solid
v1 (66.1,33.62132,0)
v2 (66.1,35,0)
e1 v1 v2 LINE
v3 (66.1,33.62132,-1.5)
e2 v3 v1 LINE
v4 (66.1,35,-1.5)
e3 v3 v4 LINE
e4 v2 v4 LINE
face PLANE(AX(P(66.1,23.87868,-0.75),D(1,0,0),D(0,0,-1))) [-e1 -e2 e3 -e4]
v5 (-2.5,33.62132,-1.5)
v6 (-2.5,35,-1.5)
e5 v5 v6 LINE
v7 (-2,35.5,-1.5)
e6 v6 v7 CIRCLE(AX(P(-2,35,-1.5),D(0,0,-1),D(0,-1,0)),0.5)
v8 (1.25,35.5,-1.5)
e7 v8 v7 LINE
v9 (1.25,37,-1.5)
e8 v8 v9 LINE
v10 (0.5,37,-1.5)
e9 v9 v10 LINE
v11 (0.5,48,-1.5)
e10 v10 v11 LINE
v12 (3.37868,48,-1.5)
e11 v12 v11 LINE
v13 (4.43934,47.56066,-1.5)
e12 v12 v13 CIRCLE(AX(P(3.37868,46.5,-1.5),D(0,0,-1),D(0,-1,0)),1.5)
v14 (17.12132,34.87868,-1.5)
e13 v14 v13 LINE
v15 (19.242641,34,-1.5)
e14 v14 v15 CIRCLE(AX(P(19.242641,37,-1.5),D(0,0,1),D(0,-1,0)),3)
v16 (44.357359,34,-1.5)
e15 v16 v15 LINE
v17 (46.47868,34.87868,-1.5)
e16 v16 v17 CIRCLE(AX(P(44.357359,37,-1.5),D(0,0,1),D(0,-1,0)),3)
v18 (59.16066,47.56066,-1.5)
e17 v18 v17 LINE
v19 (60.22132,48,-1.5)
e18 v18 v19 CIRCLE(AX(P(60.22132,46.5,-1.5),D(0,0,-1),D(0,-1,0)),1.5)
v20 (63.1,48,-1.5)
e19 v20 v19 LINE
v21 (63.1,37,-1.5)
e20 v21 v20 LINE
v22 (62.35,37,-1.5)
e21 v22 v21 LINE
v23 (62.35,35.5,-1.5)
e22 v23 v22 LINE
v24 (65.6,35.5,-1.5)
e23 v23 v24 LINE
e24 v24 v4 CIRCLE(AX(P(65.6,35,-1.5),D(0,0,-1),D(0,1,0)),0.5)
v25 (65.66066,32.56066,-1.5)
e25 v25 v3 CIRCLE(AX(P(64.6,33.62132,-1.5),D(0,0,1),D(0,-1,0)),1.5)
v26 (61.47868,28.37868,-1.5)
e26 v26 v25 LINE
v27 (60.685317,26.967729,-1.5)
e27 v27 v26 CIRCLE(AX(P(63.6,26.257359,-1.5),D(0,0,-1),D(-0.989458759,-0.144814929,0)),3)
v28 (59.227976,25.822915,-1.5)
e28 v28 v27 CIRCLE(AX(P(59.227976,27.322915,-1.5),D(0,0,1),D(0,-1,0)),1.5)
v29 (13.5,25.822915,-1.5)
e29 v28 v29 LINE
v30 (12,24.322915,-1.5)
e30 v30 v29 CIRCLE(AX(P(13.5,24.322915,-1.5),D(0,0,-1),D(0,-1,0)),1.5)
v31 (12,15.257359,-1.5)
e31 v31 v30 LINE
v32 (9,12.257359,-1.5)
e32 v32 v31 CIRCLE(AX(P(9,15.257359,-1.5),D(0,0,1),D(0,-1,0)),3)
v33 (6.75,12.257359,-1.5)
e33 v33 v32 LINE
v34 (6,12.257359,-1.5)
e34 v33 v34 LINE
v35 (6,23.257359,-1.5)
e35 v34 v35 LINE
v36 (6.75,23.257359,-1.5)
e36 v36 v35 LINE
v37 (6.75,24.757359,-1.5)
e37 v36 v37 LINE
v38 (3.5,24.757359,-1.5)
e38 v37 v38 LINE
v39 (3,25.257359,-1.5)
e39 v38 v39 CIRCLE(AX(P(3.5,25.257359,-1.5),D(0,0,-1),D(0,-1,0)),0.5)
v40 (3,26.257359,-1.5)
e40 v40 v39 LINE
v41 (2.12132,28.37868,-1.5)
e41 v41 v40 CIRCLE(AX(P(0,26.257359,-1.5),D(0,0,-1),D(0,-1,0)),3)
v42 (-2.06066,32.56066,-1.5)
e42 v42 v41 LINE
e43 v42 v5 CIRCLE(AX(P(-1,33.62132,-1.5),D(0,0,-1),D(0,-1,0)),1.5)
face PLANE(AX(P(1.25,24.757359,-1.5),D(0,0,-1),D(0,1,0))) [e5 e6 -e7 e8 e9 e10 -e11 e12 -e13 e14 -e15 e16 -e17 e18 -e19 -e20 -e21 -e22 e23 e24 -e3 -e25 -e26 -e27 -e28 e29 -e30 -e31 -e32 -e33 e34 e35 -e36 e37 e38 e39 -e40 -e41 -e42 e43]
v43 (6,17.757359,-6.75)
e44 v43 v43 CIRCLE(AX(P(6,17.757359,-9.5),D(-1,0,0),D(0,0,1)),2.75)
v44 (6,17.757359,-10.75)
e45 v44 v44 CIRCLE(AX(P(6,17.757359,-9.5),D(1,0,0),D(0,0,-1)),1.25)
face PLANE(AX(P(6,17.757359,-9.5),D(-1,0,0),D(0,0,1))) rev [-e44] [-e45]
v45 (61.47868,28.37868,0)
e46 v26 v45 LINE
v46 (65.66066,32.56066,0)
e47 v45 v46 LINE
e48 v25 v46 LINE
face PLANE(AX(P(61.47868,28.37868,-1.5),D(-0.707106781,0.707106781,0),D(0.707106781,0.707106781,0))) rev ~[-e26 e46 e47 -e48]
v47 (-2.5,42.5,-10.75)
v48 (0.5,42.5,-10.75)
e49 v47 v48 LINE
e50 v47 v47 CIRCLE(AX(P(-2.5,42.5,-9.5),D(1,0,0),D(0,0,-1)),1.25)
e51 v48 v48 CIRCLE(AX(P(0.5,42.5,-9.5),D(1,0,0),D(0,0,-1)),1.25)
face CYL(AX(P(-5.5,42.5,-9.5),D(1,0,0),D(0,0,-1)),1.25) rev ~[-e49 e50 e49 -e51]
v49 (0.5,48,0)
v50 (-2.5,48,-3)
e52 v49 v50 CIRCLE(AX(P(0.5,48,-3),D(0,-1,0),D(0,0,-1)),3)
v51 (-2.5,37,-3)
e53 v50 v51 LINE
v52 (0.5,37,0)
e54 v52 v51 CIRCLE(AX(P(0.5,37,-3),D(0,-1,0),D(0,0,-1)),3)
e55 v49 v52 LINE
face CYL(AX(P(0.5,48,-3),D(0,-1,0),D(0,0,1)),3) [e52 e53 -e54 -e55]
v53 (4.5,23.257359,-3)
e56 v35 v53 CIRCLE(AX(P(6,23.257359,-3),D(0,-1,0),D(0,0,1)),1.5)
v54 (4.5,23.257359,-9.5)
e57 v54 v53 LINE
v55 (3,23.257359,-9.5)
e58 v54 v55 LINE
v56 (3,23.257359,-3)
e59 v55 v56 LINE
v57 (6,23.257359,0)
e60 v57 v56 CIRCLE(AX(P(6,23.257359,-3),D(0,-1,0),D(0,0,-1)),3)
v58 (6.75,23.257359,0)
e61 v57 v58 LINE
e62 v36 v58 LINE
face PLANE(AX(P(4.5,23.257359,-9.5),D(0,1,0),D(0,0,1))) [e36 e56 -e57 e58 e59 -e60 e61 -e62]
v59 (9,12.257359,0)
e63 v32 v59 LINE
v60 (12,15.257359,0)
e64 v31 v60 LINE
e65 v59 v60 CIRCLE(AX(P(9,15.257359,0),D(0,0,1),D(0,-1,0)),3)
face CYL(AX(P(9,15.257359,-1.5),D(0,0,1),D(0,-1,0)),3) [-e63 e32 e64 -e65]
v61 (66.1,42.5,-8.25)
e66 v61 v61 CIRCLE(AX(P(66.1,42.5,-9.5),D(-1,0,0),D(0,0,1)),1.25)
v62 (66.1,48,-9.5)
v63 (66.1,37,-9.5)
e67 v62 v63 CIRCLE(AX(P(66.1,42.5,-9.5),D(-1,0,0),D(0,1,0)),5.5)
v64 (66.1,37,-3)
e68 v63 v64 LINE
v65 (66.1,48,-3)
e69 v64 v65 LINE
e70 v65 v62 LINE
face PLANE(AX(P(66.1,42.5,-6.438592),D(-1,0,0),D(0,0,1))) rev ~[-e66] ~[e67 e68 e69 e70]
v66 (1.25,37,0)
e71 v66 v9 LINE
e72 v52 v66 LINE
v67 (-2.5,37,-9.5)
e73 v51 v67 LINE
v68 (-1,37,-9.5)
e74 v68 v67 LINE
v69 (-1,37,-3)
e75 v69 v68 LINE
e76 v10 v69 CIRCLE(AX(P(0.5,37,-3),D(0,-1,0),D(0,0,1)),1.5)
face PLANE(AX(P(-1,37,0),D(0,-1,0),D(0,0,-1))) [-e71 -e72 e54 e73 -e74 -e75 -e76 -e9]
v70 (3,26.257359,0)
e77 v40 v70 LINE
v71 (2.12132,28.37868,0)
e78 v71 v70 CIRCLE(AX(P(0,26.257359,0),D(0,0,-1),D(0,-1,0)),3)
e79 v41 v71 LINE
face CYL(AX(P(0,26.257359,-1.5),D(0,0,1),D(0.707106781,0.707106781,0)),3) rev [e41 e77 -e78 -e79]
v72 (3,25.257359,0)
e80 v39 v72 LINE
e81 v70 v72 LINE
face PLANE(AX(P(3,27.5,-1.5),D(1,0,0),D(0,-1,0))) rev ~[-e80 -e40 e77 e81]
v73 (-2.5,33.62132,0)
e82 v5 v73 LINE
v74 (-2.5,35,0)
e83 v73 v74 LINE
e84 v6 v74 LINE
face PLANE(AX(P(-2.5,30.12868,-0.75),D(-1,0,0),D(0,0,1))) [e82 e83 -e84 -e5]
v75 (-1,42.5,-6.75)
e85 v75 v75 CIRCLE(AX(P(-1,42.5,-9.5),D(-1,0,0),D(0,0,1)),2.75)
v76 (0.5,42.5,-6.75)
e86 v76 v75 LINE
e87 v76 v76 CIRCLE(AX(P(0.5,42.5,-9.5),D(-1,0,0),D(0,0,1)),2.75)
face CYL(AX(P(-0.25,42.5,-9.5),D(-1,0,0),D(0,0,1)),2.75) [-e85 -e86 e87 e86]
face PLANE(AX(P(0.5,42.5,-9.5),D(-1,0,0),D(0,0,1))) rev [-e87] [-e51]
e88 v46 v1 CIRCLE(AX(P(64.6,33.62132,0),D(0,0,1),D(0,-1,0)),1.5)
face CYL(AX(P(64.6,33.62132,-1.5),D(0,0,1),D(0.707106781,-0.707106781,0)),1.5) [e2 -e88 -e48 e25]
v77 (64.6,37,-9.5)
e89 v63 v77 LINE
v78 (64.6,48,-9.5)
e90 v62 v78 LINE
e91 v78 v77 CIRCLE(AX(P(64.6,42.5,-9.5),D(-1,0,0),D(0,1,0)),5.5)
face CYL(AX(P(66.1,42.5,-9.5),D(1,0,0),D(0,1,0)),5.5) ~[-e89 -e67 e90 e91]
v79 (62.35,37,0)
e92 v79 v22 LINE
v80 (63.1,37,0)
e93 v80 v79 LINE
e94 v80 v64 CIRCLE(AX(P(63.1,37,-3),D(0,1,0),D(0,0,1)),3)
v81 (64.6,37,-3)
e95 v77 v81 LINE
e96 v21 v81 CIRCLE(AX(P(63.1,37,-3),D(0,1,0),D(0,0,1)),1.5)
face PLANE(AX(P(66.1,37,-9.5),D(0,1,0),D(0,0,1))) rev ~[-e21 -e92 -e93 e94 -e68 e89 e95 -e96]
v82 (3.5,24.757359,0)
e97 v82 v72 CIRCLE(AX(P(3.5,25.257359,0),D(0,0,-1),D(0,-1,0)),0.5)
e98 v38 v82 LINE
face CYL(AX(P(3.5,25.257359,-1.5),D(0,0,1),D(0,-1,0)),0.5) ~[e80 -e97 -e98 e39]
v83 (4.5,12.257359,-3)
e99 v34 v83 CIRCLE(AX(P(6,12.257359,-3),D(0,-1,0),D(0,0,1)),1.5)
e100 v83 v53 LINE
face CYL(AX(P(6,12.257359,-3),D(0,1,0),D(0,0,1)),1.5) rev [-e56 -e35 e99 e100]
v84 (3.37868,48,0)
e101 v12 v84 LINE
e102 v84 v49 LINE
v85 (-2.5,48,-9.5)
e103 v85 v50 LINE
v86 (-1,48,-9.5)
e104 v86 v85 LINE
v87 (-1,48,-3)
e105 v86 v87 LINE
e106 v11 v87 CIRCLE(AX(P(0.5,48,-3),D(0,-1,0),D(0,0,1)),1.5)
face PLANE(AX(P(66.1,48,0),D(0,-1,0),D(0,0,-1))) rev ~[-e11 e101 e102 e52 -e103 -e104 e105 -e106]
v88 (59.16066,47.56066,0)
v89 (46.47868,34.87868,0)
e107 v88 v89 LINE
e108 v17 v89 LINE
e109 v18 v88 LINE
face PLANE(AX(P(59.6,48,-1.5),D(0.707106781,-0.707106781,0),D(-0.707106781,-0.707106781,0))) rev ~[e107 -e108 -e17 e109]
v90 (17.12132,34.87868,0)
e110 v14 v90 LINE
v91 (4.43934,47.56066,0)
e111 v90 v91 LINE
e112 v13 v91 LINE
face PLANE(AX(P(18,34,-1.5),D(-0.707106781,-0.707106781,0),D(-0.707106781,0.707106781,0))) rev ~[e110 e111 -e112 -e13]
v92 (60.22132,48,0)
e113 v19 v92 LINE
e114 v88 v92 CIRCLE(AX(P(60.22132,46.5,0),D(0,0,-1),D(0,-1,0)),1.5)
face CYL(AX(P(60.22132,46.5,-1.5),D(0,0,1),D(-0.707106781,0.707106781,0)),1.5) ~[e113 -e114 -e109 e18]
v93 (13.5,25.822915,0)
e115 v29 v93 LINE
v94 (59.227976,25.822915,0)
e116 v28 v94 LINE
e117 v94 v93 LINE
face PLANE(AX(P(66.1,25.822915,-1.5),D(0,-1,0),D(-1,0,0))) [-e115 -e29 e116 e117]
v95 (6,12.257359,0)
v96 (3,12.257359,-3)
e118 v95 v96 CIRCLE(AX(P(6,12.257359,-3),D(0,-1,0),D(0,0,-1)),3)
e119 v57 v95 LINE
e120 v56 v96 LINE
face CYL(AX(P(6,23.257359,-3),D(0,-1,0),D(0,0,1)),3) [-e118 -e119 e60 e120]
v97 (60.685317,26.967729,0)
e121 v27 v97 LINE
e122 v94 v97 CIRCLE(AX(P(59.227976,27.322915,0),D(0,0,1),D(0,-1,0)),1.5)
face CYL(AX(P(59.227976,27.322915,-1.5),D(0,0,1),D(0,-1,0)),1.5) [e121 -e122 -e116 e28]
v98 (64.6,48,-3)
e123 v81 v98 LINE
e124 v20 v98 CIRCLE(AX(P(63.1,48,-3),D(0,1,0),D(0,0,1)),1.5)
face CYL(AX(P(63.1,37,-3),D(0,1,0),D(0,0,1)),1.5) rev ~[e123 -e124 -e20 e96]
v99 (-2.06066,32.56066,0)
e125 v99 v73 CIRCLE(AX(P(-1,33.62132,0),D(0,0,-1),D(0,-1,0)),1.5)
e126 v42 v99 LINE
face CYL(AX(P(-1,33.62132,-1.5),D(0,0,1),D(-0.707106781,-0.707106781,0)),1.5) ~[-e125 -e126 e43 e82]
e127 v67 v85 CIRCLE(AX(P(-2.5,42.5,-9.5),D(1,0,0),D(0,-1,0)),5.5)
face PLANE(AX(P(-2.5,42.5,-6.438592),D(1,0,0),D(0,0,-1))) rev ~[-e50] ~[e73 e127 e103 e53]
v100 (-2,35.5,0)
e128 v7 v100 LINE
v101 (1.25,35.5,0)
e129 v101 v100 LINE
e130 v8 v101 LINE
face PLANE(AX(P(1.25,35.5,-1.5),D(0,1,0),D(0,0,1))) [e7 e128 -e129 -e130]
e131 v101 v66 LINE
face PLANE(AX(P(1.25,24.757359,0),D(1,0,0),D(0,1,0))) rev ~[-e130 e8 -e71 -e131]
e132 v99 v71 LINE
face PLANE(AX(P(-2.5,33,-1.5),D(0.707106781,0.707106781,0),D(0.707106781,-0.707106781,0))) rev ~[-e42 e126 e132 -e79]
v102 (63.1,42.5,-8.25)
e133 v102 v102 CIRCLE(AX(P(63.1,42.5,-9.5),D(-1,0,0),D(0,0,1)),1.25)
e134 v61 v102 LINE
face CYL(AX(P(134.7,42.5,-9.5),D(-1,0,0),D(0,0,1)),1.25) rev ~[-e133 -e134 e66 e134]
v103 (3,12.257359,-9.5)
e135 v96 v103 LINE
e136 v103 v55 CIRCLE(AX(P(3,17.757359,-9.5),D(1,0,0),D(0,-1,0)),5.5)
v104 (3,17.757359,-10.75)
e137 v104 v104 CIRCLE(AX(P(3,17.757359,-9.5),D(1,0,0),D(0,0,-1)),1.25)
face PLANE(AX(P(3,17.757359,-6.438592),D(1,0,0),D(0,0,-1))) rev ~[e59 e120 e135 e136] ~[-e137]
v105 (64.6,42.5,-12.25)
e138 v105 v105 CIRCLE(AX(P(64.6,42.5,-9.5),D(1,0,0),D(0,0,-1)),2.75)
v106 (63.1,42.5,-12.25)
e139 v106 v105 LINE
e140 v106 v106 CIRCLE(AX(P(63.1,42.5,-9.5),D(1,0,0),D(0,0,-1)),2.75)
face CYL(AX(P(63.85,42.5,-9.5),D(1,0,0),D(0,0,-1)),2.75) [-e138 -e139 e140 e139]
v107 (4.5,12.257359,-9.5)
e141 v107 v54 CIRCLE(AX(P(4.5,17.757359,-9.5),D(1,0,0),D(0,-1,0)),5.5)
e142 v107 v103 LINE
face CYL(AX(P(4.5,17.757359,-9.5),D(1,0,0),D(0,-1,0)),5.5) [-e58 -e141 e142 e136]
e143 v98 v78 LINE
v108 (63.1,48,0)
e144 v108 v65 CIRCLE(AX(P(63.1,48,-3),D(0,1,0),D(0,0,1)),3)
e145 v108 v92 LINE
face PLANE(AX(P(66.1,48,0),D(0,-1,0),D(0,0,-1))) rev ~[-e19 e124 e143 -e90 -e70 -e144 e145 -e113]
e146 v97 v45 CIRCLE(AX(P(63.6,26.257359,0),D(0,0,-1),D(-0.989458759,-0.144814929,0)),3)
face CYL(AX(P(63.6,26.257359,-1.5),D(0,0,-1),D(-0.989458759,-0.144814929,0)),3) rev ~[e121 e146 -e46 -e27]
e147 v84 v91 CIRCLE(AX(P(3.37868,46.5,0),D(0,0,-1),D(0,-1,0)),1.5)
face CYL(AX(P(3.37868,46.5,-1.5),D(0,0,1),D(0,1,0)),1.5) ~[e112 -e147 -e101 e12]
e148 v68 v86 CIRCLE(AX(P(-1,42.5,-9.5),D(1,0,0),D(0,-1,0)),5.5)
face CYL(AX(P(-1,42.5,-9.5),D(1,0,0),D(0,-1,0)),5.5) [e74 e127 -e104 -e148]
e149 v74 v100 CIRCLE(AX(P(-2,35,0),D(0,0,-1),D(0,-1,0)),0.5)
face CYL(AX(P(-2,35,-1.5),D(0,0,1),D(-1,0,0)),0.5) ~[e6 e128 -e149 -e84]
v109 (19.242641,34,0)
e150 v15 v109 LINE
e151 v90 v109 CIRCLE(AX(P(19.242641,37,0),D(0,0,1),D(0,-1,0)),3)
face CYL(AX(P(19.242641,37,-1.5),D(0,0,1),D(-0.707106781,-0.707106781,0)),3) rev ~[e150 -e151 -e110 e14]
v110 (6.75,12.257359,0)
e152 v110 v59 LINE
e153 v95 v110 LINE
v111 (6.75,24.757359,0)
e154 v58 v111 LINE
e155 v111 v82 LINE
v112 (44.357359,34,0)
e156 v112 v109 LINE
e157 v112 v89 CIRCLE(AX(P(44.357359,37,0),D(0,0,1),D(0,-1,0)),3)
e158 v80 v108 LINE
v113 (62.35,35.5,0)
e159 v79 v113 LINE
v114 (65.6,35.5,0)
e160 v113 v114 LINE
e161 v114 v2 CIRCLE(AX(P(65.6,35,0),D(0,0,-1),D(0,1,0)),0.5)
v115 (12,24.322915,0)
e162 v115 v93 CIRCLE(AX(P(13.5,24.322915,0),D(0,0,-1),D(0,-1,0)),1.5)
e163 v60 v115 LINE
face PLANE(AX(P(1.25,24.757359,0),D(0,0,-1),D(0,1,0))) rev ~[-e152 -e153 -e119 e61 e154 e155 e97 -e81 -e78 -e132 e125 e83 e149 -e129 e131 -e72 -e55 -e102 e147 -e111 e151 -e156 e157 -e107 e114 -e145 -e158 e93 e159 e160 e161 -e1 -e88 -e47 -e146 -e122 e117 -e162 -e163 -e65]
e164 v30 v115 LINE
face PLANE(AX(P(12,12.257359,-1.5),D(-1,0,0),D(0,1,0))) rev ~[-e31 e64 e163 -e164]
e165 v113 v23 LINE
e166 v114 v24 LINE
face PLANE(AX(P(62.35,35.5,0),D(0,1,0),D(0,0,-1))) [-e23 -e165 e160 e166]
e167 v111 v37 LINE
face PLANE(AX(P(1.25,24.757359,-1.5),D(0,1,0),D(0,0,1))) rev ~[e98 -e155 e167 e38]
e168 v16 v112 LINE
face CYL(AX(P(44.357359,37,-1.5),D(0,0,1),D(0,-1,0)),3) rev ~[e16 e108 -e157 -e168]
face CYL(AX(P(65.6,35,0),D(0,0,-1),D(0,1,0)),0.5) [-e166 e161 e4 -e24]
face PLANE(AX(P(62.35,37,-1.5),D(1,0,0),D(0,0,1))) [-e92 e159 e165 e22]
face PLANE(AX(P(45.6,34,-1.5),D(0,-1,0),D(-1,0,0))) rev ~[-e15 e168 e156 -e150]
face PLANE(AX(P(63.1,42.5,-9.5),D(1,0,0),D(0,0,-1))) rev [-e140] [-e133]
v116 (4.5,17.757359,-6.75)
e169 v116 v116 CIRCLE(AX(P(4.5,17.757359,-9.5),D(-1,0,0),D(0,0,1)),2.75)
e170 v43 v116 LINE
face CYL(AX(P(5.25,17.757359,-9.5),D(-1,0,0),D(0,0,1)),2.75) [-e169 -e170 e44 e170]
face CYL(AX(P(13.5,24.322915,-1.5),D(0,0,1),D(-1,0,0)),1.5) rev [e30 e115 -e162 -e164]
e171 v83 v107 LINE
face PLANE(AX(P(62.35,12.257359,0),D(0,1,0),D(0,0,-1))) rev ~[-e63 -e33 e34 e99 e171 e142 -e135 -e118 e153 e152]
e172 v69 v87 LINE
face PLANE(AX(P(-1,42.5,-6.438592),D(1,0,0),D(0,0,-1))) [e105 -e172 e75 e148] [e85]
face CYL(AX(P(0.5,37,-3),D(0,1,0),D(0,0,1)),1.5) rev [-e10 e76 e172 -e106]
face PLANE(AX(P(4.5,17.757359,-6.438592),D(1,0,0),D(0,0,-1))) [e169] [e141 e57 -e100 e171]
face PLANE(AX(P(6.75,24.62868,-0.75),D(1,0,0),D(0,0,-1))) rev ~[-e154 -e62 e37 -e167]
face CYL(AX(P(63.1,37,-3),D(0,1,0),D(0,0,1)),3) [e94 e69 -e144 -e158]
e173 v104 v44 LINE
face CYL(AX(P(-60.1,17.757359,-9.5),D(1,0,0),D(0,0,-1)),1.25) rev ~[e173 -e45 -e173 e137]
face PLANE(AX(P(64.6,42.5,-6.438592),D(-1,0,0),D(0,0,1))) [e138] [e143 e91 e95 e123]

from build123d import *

# Parameters (mm, degrees)
SKETCH_1_W                  = 5.5
SKETCH_1_H                  = 12.242640687
EXTRUDE_1_DEPTH             = 1.5
SKETCH_2_W                  = 1.5
SKETCH_2_H                  = 24.742640687
EXTRUDE_2_DEPTH             = 55.6
SKETCH_3_W                  = 1.5
SKETCH_3_H                  = 11
EXTRUDE_3_DEPTH             = 2.25
SKETCH_4_W                  = 63.35
SKETCH_4_H                  = 1.5
EXTRUDE_4_DEPTH             = 11
EXTRUDE_5_DEPTH             = 1.5
EXTRUDE_6_DEPTH             = 1.5
SKETCH_7_W                  = 1.5
SKETCH_7_H                  = 11
EXTRUDE_7_DEPTH             = 2.25
EXTRUDE_START               = 1.5
EXTRUDE_8_DEPTH             = 1.5
SKETCH_9_W                  = 1.5
SKETCH_9_H                  = 23.242640687
EXTRUDE_9_DEPTH             = 3.75
SKETCH_10_W                 = 1.5
SKETCH_10_H                 = 10.742640687
EXTRUDE_10_DEPTH            = 3.75
CUT_EXTRUDE_1_DEPTH         = 83.797705282
SKETCH_12_W                 = 54.1
SKETCH_12_H                 = 13.565555211
CUT_EXTRUDE_2_DEPTH         = 83.797705282
CUT_EXTRUDE_3_DEPTH         = 83.797705282
CUT_EXTRUDE_4_DEPTH         = 83.797705282
SKETCH_15_W                 = 1.5
SKETCH_15_H                 = 2.75
SKETCH_16_W                 = 1.5
SKETCH_16_H                 = 2.75
SKETCH_17_W                 = 1.5
SKETCH_17_H                 = 2.75
HOLE_WIZARD_2_5_2_5_1_D     = 2.5
HOLE_WIZARD_2_5_2_5_1_DEPTH = 63.1
HOLE_WIZARD_2_5_2_5_2_D     = 2.5
HOLE_WIZARD_2_5_2_5_2_DEPTH = 3
HOLE_WIZARD_2_5_2_5_3_D     = 2.5
HOLE_WIZARD_2_5_2_5_3_DEPTH = 68.6
FILLET_1_R                  = 0.5
FILLET_2_R                  = 1.5
FILLET_3_R                  = 3


with BuildPart() as part:
    # 草图1 → 凸台-拉伸1 (new body)
    with BuildSketch(Plane.XY):
        with Locations((4, 30.878679657)):
            Rectangle(SKETCH_1_W, SKETCH_1_H)
    extrude(amount=-EXTRUDE_1_DEPTH)

    # 草图2 → 凸台-拉伸2 (add)
    with BuildSketch(Plane(origin=(6.75, 0, 0), x_dir=(0, 0, -1), z_dir=(1, 0, 0))):
        with Locations((0.75, 24.628679657)):
            Rectangle(SKETCH_2_W, SKETCH_2_H)
    extrude(amount=EXTRUDE_2_DEPTH)

    # 草图3 → 凸台-拉伸3 (add)
    with BuildSketch(Plane.ZY.offset(-6.75)):
        with Locations((-0.75, 17.757359313)):
            Rectangle(SKETCH_3_W, SKETCH_3_H)
    extrude(amount=EXTRUDE_3_DEPTH)

    # 草图4 → 凸台-拉伸4 (add)
    with BuildSketch(Plane(origin=(0, 37, 0), x_dir=(-1, 0, 0), z_dir=(0, 1, 0))):
        with Locations((-30.675, -0.75)):
            Rectangle(SKETCH_4_W, SKETCH_4_H)
    extrude(amount=EXTRUDE_4_DEPTH)

    # 草图5 → 凸台-拉伸5 (add)
    with BuildSketch(Plane.ZY.offset(1)):
        with BuildLine():
            Line((-9.5, 48), (0, 48))
            Line((0, 48), (0, 37))
            Line((0, 37), (-9.5, 37))
            ThreePointArc((-9.5, 37), (-15, 42.5), (-9.5, 48))
        make_face()
    extrude(amount=EXTRUDE_5_DEPTH)

    # 草图6 → 凸台-拉伸6 (add)
    with BuildSketch(Plane.ZY.offset(-4.5)):
        with BuildLine():
            Line((-9.5, 23.257359313), (0, 23.257359313))
            Line((0, 23.257359313), (0, 12.257359313))
            Line((0, 12.257359313), (-9.5, 12.257359313))
            ThreePointArc((-9.5, 12.257359313), (-15, 17.757359313), (-9.5, 23.257359313))
        make_face()
    extrude(amount=EXTRUDE_6_DEPTH)

    # 草图7 → 凸台-拉伸7 (add)
    with BuildSketch(Plane(origin=(62.35, 0, 0), x_dir=(0, 0, -1), z_dir=(1, 0, 0))):
        with Locations((0.75, 42.5)):
            Rectangle(SKETCH_7_W, SKETCH_7_H)
    extrude(amount=EXTRUDE_7_DEPTH)

    # 草图8 → 凸台-拉伸8 (add)
    with BuildSketch(Plane(origin=(64.6, 0, 0), x_dir=(0, 0, -1), z_dir=(1, 0, 0)).offset(EXTRUDE_START)):
        with BuildLine():
            Line((9.5, 37), (0, 37))
            Line((0, 37), (0, 48))
            Line((0, 48), (9.5, 48))
            ThreePointArc((9.5, 48), (15, 42.5), (9.5, 37))
        make_face()
    extrude(amount=-EXTRUDE_8_DEPTH)

    # 草图9 → 凸台-拉伸9 (add)
    with BuildSketch(Plane(origin=(62.35, 0, 0), x_dir=(0, 0, -1), z_dir=(1, 0, 0))):
        with Locations((0.75, 23.878679657)):
            Rectangle(SKETCH_9_W, SKETCH_9_H)
    extrude(amount=EXTRUDE_9_DEPTH)

    # 草图10 → 凸台-拉伸10 (add)
    with BuildSketch(Plane.ZY.offset(-1.25)):
        with Locations((-0.75, 30.128679657)):
            Rectangle(SKETCH_10_W, SKETCH_10_H)
    extrude(amount=EXTRUDE_10_DEPTH)

    # 草图11 → 切除-拉伸1 (cut, through all)
    with BuildSketch(Plane(origin=(0, 0, -1.5), x_dir=(-1, 0, 0), z_dir=(0, 0, -1))):
        Polygon((2.5, 24.757359313), (2.5, 33), (-3, 27.5), (-3, 24.757359313), align=None)
    extrude(amount=-CUT_EXTRUDE_1_DEPTH, mode=Mode.SUBTRACT)

    # 草图12 → 切除-拉伸2 (cut, through all)
    with BuildSketch(Plane(origin=(0, 0, -1.5), x_dir=(-1, 0, 0), z_dir=(0, 0, -1))):
        with Locations((-39.05, 19.040136919)):
            Rectangle(SKETCH_12_W, SKETCH_12_H)
    extrude(amount=-CUT_EXTRUDE_2_DEPTH, mode=Mode.SUBTRACT)

    # 草图13 → 切除-拉伸3 (cut, through all)
    with BuildSketch(Plane(origin=(0, 0, -1.5), x_dir=(-1, 0, 0), z_dir=(0, 0, -1))):
        with BuildLine():
            Line((-61.478679656, 28.378679656), (-66.1, 33))
            Line((-66.1, 33), (-66.1, 25.822914524))
            Line((-66.1, 25.822914524), (-60.631623722, 25.822914524))
            ThreePointArc((-60.631623722, 25.822914524), (-60.752327832, 27.201161847), (-61.478679656, 28.378679656))
        make_face()
    extrude(amount=-CUT_EXTRUDE_3_DEPTH, mode=Mode.SUBTRACT)

    # 草图14 → 切除-拉伸4 (cut, through all)
    with BuildSketch(Plane(origin=(0, 0, -1.5), x_dir=(-1, 0, 0), z_dir=(0, 0, -1))):
        Polygon((-59.6, 48), (-45.6, 34), (-18, 34), (-4, 48), align=None)
    extrude(amount=-CUT_EXTRUDE_4_DEPTH, mode=Mode.SUBTRACT)

    # 草图15 → 旋转1 (revolve)
    with BuildSketch(Plane(origin=(0, 0, -9.5), x_dir=(-1, 0, 0), z_dir=(0, 0, -1)), mode=Mode.PRIVATE) as revolve_1_sk:
        with Locations((-5.25, 19.132359313)):
            Rectangle(SKETCH_15_W, SKETCH_15_H)
    revolve(revolve_1_sk.sketch.rotate(Axis((6, 17.757359313, -9.5), (-1, 0, 0)), 270), axis=Axis((6, 17.757359313, -9.5), (-1, 0, 0)))

    # 草图16 → 旋转2 (revolve)
    with BuildSketch(Plane(origin=(0, 0, -9.5), x_dir=(-1, 0, 0), z_dir=(0, 0, -1)), mode=Mode.PRIVATE) as revolve_2_sk:
        with Locations((0.25, 43.875)):
            Rectangle(SKETCH_16_W, SKETCH_16_H)
    revolve(revolve_2_sk.sketch.rotate(Axis((0.5, 42.5, -9.5), (-1, 0, 0)), 270), axis=Axis((0.5, 42.5, -9.5), (-1, 0, 0)))

    # 草图17 → 旋转3 (revolve)
    with BuildSketch(Plane.XY.offset(-9.5), mode=Mode.PRIVATE) as revolve_3_sk:
        with Locations((63.85, 43.875)):
            Rectangle(SKETCH_17_W, SKETCH_17_H)
    revolve(revolve_3_sk.sketch.rotate(Axis((63.1, 42.5, -9.5), (1, 0, 0)), 270), axis=Axis((63.1, 42.5, -9.5), (1, 0, 0)))

    # Ø2.5 (2.5) 直径孔1
    with Locations(Plane.ZY.offset(-3)):
        with Locations((-9.5, 17.757359313)):
            Hole(HOLE_WIZARD_2_5_2_5_1_D / 2, depth=HOLE_WIZARD_2_5_2_5_1_DEPTH)

    # Ø2.5 (2.5) 直径孔2
    with Locations(Plane.ZY.offset(2.5)):
        with Locations((-9.5, 42.5)):
            Hole(HOLE_WIZARD_2_5_2_5_2_D / 2, depth=HOLE_WIZARD_2_5_2_5_2_DEPTH)

    # Ø2.5 (2.5) 直径孔3
    with Locations(Plane(origin=(66.1, 0, 0), x_dir=(0, 0, -1), z_dir=(1, 0, 0))):
        with Locations((9.5, 42.5)):
            Hole(HOLE_WIZARD_2_5_2_5_3_D / 2, depth=HOLE_WIZARD_2_5_2_5_3_DEPTH)

    # 圆角1
    fillet_1_edges = [part.edges().sort_by_distance(p)[0] for p in [
        (66.1, 35.5, -0.75),
        (-2.5, 35.5, -0.75),
        (3, 24.757359313, -0.75),
    ]]
    fillet(fillet_1_edges, radius=FILLET_1_R)

    # 圆角2
    fillet_2_edges = [part.edges().sort_by_distance(p)[0] for p in [
        (-2.5, 33, -0.75),
        (12, 25.822914524, -0.75),
        (60.631623722, 25.822914524, -0.75),
        (66.1, 33, -0.75),
        (59.6, 48, -0.75),
        (4, 48, -0.75),
        (4.5, 17.757359313, -1.5),
        (-1, 42.5, -1.5),
        (64.6, 42.5, -1.5),
    ]]
    fillet(fillet_2_edges, radius=FILLET_2_R)

    # 圆角3
    fillet_3_edges = [part.edges().sort_by_distance(p)[0] for p in [
        (66.1, 42.5, 0),
        (18, 34, -0.75),
        (45.6, 34, -0.75),
        (3, 27.5, -0.75),
        (12, 12.257359313, -0.75),
        (3, 17.757359313, 0),
        (-2.5, 42.5, 0),
    ]]
    fillet(fillet_3_edges, radius=FILLET_3_R)


solid = part.part
